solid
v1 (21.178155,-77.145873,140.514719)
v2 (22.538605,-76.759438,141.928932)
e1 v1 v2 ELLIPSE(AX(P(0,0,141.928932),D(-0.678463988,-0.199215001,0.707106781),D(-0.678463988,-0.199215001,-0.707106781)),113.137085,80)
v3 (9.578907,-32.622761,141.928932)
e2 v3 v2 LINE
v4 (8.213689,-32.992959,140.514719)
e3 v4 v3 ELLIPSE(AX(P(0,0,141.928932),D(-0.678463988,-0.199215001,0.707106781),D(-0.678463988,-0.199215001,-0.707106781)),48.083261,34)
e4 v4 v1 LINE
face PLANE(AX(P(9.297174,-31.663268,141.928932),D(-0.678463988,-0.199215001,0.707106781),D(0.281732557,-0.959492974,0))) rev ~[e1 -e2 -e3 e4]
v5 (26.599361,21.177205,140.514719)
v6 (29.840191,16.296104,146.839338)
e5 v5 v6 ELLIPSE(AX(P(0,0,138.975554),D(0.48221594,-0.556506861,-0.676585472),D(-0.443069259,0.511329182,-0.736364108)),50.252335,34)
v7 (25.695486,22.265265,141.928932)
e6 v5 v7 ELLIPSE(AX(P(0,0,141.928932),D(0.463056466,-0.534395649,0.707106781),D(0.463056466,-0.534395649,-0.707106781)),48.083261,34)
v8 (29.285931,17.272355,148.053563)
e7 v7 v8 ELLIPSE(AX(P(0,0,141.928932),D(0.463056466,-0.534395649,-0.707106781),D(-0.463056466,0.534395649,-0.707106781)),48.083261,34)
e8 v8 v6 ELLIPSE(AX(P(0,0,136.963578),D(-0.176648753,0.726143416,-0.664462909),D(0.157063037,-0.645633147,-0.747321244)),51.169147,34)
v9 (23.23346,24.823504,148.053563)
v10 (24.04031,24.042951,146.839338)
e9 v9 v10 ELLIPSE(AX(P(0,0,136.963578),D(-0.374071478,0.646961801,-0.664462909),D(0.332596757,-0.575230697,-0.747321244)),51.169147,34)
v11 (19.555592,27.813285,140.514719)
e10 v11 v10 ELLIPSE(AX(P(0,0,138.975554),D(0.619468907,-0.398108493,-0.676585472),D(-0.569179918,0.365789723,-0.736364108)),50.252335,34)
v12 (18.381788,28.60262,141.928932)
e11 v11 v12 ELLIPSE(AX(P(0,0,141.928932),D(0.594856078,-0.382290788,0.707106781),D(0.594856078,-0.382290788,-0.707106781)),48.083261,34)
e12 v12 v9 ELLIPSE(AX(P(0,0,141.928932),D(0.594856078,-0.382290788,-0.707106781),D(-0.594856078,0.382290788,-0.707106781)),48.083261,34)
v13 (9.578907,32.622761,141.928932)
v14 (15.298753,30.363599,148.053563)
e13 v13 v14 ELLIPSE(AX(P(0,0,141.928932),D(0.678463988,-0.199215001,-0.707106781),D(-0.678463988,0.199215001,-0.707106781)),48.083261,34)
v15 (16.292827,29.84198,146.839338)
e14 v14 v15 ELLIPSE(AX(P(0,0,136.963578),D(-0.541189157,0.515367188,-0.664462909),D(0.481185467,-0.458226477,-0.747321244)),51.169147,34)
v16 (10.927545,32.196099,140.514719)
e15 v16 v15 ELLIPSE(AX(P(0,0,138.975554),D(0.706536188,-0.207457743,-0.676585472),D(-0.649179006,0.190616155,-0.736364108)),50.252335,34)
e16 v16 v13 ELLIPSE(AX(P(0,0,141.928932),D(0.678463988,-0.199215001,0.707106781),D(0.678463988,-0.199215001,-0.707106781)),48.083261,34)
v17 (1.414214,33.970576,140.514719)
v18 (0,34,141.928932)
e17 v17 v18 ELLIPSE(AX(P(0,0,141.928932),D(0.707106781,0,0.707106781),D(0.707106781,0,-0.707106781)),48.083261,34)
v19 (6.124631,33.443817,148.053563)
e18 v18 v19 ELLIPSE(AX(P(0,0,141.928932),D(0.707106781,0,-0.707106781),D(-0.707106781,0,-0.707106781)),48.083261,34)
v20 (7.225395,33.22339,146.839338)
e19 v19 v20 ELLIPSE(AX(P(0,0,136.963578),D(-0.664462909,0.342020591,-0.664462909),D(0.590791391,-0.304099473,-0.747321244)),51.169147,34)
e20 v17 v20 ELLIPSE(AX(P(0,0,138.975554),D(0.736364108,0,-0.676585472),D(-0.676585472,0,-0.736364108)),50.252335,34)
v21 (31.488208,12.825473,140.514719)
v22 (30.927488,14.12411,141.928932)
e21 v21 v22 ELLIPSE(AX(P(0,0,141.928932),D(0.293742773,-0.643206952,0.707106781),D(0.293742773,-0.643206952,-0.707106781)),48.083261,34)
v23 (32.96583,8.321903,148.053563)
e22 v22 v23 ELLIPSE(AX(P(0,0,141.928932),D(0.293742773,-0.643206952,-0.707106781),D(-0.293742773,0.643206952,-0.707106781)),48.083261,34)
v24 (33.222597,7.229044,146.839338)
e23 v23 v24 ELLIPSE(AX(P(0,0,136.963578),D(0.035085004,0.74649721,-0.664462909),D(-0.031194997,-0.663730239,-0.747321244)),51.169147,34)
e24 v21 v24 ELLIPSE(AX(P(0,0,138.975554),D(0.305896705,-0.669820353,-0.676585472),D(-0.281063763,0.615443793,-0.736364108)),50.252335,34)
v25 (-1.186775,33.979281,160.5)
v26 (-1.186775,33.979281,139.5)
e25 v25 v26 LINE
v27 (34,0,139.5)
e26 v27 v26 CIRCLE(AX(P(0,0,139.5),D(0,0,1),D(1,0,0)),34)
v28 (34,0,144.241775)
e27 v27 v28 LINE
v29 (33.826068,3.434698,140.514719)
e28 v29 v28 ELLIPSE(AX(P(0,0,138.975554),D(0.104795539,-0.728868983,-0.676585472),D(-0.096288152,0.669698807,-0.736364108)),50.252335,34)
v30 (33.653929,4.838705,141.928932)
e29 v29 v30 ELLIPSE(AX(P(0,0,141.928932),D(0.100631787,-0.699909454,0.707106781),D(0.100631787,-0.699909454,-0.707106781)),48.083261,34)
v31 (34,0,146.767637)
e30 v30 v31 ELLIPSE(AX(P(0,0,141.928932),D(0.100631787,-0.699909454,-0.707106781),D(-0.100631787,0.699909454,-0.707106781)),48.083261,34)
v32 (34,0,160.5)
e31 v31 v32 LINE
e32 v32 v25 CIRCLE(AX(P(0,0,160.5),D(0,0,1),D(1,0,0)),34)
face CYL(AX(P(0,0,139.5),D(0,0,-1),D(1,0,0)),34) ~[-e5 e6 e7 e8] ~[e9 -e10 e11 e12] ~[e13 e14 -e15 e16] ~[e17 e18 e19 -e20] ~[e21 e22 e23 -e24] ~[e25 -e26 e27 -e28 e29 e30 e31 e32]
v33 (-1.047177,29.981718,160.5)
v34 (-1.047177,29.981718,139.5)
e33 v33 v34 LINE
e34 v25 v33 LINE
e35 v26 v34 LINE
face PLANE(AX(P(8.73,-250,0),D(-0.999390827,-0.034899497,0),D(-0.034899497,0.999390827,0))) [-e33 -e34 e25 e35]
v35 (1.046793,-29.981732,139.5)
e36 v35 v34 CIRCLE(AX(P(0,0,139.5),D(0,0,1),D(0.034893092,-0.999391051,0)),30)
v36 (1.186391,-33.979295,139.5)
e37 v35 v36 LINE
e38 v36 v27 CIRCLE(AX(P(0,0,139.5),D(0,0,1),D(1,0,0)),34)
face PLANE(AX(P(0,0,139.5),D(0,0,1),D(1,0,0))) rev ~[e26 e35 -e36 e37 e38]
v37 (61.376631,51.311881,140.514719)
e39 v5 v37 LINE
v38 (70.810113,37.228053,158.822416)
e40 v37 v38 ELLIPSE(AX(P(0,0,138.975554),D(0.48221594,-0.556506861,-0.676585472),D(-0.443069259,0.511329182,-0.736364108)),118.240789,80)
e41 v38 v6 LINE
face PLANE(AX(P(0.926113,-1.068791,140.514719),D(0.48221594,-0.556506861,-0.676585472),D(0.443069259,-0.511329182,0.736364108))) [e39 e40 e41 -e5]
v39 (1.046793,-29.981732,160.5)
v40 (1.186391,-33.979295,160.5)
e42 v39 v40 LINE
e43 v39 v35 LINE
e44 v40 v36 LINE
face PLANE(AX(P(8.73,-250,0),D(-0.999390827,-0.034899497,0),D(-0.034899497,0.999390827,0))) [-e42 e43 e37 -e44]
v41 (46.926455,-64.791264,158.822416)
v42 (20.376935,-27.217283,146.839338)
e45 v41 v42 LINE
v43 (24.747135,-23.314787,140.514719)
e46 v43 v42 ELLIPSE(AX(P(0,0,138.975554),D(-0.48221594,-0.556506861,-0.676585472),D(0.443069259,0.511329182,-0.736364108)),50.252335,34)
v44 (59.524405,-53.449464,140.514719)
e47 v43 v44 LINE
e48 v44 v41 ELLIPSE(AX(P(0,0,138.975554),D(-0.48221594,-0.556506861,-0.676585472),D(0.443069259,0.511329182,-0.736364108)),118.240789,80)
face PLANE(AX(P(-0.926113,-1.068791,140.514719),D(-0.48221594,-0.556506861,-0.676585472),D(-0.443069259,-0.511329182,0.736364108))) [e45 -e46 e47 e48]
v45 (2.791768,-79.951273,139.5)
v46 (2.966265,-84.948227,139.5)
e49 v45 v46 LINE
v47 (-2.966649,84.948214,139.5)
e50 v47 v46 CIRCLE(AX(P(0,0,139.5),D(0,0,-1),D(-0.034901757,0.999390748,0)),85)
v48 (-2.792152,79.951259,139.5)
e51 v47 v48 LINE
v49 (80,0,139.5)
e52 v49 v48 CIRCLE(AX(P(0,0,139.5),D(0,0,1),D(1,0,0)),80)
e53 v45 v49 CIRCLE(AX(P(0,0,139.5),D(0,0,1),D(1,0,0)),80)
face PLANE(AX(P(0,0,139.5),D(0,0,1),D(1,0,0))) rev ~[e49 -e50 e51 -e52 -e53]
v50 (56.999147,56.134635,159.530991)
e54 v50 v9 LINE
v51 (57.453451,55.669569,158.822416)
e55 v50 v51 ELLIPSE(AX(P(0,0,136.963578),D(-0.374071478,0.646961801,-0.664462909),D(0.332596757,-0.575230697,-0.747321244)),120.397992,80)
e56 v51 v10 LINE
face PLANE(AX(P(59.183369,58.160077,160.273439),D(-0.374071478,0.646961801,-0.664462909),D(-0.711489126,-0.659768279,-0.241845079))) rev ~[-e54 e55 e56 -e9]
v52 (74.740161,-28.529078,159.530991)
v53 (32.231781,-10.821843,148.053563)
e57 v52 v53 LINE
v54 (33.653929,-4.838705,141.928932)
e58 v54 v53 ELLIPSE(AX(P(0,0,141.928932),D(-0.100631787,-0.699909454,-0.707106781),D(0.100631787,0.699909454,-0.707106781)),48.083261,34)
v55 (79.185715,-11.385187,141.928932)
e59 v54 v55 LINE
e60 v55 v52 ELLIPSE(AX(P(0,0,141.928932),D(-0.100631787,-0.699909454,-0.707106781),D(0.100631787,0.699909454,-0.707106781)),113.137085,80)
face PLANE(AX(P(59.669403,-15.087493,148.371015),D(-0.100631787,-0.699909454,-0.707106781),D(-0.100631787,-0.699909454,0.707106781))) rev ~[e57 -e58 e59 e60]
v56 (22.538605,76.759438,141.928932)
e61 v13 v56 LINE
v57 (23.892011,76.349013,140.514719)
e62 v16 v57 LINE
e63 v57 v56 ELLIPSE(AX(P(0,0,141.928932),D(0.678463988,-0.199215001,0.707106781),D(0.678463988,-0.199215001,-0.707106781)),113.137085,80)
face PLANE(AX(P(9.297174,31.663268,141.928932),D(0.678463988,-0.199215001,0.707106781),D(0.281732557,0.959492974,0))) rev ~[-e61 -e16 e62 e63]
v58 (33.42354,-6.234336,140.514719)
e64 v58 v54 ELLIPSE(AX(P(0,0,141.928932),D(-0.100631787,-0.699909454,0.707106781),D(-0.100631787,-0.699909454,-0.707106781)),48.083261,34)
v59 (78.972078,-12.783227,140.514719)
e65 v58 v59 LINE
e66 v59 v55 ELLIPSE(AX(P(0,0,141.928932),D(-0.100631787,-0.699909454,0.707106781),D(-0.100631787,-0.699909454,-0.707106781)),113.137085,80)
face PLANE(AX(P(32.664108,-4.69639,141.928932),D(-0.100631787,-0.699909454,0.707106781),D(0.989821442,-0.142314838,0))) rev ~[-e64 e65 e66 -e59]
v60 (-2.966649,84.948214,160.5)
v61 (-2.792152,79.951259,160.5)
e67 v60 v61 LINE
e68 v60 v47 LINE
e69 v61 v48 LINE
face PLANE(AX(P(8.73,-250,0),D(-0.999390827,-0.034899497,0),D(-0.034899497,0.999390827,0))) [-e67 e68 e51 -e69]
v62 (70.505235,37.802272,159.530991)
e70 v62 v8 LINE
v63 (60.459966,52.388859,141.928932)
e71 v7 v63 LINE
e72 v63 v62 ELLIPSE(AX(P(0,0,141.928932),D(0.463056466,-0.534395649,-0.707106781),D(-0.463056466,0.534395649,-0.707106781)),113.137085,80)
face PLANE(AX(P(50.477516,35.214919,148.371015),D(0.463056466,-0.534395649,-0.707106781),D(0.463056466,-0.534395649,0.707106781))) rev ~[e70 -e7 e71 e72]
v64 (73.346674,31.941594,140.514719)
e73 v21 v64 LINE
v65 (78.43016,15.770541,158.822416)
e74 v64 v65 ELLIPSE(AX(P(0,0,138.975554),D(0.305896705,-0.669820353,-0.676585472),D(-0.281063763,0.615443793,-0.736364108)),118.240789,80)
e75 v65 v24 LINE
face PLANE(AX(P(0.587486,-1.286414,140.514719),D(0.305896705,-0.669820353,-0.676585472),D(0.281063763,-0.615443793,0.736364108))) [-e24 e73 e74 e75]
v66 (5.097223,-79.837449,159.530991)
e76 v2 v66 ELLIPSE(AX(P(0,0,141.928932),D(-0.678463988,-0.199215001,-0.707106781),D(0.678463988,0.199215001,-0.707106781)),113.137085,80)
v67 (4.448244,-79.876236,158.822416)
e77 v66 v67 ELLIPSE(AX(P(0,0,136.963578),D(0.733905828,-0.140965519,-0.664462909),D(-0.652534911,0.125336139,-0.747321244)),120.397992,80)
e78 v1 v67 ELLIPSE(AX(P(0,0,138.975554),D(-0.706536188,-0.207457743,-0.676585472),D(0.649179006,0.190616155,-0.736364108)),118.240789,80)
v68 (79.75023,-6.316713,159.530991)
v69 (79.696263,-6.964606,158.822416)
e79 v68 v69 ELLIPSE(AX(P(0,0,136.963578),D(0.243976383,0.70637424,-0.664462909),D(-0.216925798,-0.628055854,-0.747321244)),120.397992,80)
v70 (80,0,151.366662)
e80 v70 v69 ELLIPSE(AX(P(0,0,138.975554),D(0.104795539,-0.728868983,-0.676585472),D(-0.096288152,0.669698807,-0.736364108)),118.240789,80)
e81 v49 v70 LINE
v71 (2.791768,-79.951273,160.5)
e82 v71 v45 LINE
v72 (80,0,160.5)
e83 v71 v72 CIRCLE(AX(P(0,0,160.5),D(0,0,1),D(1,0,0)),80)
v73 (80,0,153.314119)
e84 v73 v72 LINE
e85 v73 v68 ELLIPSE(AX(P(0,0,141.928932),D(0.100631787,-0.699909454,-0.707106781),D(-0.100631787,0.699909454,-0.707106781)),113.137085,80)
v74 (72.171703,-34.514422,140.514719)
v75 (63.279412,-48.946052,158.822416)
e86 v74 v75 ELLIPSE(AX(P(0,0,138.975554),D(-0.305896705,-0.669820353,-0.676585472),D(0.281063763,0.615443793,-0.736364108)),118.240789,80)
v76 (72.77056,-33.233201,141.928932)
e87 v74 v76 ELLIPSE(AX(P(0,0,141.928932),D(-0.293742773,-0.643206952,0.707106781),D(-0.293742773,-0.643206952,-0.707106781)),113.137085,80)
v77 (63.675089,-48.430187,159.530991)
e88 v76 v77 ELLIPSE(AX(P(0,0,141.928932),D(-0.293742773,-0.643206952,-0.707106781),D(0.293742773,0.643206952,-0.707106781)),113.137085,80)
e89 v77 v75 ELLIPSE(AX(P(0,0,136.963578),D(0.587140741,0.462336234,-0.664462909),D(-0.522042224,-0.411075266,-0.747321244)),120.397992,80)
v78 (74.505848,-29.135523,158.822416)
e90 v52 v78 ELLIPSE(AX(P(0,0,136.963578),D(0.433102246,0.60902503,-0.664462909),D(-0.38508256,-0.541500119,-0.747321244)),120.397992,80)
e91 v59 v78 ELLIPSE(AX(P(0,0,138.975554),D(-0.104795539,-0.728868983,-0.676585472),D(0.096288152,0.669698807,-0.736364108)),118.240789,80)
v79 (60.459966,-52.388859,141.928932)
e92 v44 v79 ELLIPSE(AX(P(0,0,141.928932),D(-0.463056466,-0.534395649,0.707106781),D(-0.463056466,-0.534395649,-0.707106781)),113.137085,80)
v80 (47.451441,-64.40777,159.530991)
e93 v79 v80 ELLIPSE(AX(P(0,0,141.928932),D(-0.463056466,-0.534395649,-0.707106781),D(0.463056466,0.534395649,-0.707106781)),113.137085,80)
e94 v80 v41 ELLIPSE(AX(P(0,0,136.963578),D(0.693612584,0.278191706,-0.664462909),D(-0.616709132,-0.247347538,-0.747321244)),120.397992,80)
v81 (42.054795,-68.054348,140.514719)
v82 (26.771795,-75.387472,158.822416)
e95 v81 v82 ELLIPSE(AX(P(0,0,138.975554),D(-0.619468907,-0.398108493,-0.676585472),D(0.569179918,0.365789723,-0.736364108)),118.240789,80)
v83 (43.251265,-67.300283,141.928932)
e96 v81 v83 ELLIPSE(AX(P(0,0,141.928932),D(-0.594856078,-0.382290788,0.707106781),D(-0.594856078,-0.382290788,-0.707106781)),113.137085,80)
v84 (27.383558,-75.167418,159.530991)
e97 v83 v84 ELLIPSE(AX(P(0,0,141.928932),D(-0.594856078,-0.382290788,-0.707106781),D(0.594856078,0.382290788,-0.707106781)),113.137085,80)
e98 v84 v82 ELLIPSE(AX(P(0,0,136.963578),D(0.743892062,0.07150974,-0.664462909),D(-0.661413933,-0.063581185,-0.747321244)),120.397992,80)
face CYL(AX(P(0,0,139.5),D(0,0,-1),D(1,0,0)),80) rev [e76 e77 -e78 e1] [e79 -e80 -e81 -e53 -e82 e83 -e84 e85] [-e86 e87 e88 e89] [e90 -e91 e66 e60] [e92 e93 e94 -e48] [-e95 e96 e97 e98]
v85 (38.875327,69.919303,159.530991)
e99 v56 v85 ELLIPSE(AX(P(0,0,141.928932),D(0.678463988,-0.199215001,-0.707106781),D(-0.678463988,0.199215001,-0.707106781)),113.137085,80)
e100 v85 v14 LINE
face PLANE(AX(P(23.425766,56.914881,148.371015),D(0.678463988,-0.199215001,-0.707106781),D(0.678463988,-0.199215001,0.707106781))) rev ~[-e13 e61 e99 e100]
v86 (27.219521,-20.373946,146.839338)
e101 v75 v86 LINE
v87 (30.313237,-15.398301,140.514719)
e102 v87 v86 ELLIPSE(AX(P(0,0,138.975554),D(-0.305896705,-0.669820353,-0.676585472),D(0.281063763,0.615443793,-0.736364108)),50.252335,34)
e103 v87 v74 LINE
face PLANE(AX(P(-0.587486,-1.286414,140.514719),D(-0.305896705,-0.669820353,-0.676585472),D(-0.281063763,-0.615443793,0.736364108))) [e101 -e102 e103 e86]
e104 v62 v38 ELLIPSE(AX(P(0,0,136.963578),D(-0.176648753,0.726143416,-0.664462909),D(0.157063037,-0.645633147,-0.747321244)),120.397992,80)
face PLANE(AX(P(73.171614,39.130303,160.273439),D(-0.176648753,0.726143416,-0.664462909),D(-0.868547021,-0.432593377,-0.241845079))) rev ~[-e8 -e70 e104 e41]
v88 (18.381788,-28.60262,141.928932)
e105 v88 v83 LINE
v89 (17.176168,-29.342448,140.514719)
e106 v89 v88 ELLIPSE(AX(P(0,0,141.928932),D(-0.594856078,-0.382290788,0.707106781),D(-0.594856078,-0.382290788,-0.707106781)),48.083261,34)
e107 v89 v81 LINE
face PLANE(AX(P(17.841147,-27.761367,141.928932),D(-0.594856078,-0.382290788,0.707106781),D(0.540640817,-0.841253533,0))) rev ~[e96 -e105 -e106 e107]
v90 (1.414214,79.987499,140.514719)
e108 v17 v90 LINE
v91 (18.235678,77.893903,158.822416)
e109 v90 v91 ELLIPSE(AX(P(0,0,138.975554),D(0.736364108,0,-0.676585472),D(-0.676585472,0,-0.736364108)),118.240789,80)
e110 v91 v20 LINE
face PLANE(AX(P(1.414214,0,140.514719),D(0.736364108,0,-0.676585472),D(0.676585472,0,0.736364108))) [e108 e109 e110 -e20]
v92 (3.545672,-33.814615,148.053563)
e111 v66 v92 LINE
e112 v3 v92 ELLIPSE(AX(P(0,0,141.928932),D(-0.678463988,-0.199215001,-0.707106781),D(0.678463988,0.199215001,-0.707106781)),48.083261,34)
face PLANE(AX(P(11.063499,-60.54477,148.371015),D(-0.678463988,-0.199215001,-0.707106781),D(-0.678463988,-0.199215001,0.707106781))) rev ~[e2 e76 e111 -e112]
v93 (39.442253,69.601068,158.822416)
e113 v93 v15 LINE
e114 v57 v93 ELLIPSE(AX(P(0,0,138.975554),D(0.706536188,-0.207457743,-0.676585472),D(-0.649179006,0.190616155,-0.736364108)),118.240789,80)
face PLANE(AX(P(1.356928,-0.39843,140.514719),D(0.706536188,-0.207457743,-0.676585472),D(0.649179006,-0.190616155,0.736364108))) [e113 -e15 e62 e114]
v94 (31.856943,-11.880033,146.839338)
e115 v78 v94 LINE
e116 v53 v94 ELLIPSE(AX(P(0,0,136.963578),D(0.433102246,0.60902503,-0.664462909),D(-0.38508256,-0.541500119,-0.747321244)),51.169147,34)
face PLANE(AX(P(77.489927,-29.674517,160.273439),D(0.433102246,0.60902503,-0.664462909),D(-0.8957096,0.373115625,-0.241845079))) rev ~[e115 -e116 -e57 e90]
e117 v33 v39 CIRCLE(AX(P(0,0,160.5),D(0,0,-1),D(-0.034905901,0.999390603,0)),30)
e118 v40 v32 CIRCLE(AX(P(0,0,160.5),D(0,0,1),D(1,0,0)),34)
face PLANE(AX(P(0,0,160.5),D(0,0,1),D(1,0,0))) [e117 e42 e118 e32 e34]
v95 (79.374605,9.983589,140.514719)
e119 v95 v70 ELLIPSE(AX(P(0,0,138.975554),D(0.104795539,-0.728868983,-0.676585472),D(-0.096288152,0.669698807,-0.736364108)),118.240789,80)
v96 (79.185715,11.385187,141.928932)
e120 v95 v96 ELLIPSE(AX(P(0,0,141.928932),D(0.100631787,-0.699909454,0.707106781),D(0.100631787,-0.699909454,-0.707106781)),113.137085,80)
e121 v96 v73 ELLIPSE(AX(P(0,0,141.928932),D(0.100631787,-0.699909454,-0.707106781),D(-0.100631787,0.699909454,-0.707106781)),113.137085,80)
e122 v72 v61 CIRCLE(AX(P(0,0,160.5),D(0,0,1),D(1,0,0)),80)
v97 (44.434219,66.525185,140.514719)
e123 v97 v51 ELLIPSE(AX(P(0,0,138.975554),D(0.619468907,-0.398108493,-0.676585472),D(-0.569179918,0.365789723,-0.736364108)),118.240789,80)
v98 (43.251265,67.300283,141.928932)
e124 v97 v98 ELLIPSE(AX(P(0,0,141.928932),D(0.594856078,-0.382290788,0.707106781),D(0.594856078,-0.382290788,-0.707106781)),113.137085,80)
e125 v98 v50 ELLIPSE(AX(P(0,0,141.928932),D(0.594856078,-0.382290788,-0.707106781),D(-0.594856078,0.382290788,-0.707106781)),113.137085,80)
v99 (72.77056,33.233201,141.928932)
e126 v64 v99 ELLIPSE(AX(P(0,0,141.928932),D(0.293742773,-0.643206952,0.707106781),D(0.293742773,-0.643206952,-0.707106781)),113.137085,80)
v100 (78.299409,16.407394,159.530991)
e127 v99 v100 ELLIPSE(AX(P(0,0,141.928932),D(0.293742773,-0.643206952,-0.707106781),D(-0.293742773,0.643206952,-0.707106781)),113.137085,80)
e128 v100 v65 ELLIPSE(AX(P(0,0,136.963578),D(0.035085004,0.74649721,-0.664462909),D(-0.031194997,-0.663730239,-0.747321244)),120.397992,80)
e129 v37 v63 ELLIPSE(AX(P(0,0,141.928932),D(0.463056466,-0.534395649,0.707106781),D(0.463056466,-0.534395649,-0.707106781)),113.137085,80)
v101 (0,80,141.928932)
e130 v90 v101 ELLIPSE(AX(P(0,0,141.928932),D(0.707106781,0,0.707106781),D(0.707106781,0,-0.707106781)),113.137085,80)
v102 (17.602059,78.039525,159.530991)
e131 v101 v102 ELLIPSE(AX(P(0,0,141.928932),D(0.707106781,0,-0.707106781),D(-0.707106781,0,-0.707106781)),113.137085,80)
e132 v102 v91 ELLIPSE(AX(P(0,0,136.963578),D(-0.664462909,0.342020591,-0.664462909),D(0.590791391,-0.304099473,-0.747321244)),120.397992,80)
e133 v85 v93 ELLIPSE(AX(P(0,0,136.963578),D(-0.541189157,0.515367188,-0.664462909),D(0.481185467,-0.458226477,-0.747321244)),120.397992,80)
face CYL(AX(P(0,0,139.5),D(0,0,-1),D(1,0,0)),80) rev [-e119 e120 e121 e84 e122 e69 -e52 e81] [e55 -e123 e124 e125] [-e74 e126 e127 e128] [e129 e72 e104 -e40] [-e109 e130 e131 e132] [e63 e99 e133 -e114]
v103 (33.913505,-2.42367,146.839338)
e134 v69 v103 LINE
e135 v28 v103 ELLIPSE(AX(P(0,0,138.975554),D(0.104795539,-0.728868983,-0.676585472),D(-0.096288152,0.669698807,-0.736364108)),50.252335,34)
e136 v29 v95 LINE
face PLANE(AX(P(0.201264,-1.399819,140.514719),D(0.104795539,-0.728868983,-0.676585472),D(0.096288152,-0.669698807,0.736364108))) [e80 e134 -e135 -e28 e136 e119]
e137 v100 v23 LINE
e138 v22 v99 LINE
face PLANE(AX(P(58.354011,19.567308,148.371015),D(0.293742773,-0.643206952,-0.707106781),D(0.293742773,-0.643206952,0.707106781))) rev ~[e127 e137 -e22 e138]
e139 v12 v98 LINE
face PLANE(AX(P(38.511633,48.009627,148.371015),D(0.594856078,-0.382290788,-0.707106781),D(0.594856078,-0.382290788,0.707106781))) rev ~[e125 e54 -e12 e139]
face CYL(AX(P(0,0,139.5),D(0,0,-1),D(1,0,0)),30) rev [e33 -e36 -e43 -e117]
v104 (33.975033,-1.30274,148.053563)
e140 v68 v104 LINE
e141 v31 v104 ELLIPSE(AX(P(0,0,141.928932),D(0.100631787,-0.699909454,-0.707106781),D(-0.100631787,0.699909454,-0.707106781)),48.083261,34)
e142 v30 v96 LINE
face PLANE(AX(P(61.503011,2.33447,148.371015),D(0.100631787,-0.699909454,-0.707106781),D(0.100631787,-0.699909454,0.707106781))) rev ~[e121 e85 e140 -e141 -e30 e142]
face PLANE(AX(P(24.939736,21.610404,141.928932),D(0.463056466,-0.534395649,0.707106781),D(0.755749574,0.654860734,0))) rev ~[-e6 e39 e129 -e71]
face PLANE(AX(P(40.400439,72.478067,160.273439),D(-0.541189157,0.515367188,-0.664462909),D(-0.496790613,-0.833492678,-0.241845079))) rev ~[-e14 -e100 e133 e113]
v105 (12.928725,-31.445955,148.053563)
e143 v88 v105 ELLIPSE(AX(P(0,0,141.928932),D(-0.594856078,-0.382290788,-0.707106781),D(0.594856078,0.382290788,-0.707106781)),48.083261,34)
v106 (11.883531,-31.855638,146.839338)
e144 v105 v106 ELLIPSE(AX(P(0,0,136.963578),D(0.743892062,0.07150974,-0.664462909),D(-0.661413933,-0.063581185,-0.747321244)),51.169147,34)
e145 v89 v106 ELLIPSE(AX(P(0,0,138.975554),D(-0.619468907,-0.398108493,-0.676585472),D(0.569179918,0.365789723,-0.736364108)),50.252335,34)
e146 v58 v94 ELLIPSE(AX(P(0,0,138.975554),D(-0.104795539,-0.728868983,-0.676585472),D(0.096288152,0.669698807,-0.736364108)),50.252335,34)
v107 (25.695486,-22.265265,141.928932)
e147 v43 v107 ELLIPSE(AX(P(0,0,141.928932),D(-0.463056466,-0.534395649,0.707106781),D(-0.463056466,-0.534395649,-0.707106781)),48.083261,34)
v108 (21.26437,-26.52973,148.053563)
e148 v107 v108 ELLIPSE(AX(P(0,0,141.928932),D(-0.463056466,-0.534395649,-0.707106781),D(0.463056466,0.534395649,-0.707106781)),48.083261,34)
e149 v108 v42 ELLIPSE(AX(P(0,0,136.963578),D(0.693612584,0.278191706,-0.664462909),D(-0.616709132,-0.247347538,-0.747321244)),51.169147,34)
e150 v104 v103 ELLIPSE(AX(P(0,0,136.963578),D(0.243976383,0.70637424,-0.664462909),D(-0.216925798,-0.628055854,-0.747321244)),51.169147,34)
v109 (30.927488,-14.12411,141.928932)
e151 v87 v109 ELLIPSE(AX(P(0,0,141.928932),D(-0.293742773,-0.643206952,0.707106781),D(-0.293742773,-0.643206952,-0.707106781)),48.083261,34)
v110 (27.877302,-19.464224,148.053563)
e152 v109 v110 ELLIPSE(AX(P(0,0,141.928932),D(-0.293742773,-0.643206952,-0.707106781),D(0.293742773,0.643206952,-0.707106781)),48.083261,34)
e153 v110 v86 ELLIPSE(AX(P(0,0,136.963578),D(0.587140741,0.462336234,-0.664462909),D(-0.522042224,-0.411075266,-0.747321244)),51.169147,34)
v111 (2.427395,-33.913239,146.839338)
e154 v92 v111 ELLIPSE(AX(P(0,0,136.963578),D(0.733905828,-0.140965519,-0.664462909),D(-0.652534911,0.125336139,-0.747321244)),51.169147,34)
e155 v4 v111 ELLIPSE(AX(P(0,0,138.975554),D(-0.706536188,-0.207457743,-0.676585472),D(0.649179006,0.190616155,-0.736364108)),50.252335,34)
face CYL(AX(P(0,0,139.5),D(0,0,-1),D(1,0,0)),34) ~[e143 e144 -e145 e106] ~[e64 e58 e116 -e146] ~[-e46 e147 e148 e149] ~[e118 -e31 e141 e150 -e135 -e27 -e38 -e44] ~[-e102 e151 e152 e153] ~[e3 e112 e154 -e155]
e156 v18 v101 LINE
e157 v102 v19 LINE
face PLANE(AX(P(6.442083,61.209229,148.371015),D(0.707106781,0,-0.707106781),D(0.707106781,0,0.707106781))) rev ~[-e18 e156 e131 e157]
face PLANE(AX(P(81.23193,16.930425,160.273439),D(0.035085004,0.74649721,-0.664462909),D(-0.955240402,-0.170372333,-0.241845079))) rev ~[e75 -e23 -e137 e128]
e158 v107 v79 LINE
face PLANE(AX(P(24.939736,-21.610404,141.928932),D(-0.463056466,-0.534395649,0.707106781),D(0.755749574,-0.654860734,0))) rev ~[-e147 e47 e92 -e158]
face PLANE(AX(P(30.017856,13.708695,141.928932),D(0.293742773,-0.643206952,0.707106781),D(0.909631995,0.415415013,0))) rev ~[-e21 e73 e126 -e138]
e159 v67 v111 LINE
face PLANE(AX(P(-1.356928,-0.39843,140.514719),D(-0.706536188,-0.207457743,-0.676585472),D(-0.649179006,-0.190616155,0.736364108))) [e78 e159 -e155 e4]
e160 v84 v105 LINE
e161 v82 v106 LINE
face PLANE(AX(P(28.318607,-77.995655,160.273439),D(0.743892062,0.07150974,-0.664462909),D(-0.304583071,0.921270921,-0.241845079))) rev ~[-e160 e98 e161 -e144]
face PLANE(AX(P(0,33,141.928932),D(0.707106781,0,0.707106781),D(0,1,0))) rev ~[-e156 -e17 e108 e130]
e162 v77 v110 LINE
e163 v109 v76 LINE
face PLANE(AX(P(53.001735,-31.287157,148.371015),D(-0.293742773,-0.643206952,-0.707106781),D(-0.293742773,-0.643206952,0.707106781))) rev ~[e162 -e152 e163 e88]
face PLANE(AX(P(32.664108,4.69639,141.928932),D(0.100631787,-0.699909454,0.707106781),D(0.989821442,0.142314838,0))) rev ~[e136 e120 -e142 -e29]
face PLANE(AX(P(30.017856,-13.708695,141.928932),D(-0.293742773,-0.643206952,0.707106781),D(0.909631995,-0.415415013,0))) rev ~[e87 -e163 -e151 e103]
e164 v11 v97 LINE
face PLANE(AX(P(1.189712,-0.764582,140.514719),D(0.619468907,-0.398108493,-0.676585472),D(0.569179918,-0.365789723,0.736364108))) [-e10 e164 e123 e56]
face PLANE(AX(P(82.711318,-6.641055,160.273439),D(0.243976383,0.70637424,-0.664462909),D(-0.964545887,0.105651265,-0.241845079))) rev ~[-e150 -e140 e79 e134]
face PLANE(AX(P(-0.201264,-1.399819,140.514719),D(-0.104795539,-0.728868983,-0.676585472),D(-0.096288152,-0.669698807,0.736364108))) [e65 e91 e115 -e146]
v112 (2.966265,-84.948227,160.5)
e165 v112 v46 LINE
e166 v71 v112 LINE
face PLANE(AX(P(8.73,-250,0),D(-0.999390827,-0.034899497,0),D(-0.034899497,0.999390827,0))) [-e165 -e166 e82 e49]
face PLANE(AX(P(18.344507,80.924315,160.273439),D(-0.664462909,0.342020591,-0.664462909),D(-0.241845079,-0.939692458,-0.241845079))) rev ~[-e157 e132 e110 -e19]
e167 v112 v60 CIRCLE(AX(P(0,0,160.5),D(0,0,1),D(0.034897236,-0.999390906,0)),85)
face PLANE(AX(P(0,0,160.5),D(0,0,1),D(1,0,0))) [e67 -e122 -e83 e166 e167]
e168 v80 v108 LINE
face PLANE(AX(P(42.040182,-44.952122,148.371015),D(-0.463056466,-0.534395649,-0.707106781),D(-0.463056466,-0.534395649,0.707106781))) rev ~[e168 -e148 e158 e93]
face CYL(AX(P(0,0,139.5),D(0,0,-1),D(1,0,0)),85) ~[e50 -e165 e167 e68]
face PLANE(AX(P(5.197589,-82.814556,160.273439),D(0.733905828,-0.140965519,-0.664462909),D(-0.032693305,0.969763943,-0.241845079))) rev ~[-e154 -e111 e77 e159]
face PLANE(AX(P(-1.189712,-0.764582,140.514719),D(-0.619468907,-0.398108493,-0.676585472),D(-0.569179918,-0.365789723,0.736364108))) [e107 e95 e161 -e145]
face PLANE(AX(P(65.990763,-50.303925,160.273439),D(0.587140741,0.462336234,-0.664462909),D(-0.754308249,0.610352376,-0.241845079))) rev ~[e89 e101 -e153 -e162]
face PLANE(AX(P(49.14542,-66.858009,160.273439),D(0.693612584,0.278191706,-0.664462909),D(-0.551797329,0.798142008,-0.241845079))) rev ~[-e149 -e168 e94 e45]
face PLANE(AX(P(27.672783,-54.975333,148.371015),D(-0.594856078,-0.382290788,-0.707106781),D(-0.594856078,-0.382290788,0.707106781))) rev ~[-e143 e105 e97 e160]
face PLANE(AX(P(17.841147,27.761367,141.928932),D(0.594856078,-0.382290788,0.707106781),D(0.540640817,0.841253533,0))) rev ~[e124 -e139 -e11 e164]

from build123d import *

# Parameters (mm, degrees)
BOX_W                     = 500
BOX_H                     = 500
BOX_DEPTH                 = 500
BOX_PLACEMENT_ANGLE       = 2
TUBE019_R                 = 85
TUBE019_R_2               = 80
TUBE019_DEPTH             = 21
TUBE012_R                 = 100
TUBE012_R_2               = 80
TUBE012_DEPTH             = 200
PAD030_DEPTH              = 100
PAD031_DEPTH              = 2
COMMON013_PLACEMENT_ANGLE = 45
ARRAY013_COUNT            = 22
ARRAY013_PLACEMENT_ANGLE  = 180
TUBE020_R                 = 34
TUBE020_R_2               = 30
TUBE020_DEPTH             = 21


with BuildPart() as cube:
    # Box → Box (new body)
    with BuildSketch(Plane.XY):
        with Locations((250, 250)):
            Rectangle(BOX_W, BOX_H)
    extrude(amount=BOX_DEPTH)


with BuildPart() as cube_1:
    # Box placement: moved
    add(cube.part.moved(Location((8.73, -250, 0))).rotate(Axis((8.73, -250, 0), (0, 0, 1)), BOX_PLACEMENT_ANGLE))


with BuildPart() as tube019:
    # Tube019 → Tube019 (new body)
    with BuildSketch(Plane.XY.offset(139.5)):
        Circle(TUBE019_R)
        Circle(TUBE019_R_2, mode=Mode.SUBTRACT)
    extrude(amount=TUBE019_DEPTH)


with BuildPart() as tube012:
    # Tube012 → Tube012 (new body)
    with BuildSketch(Plane.XY):
        Circle(TUBE012_R)
        Circle(TUBE012_R_2, mode=Mode.SUBTRACT)
    extrude(amount=TUBE012_DEPTH)


with BuildPart() as body031:
    # Sketch030 → Pad030 (new body)
    with BuildSketch(Plane.XZ):
        Polygon((0, 0), (0, 2), (26, 0.9), (26, 0), align=None)
    extrude(amount=PAD030_DEPTH)


with BuildPart() as body031_1:
    # Body031 placement: moved
    add(body031.part.moved(Location((-5, 0, 5))))


with BuildPart() as cut001:
    # Sketch031 → Pad031 (new body)
    with BuildSketch(Plane.XY):
        Polygon((0, 0), (0, -52), (25.94305, -47.924315), (8.5, 0), align=None)
    extrude(amount=PAD031_DEPTH)


with BuildPart() as cut001_1:
    # Body032 placement: moved
    add(cut001.part.moved(Location((-5, -33, 5))))

    # Common013: intersect Body031
    add(body031_1.part, mode=Mode.INTERSECT)


with BuildPart() as cut001_2:
    # Common013 placement: moved
    add(cut001_1.part.rotate(Axis((0, 0, 0), (0, 1, 0)), COMMON013_PLACEMENT_ANGLE))

    # Array013: Cut001 ×22 about axis
    array013_axis = Axis((0, 0, 0), (0, 0, 1))


with BuildPart() as cut001_3:
    add(cut001_2.part)
    for i in range(1, ARRAY013_COUNT):
        add(cut001_2.part.rotate(array013_axis, i * 360 / ARRAY013_COUNT))


with BuildPart() as cut001_4:
    # Array013 placement: moved
    add(cut001_3.part.moved(Location((0, 0, 149))).rotate(Axis((0, 0, 149), (0, 1, 0)), ARRAY013_PLACEMENT_ANGLE))

    # Cut001: cut Tube012
    add(tube012.part, mode=Mode.SUBTRACT)


with BuildPart() as statorh1:
    # Tube020 → Tube020 (new body)
    with BuildSketch(Plane.XY.offset(139.5)):
        Circle(TUBE020_R)
        Circle(TUBE020_R_2, mode=Mode.SUBTRACT)
    extrude(amount=TUBE020_DEPTH)

    # Fusion009: union Tube019, Cut001
    add(tube019.part)
    add(cut001_4.part)

    # Common015: intersect Cube
    add(cube_1.part, mode=Mode.INTERSECT)


solid = statorh1.part
